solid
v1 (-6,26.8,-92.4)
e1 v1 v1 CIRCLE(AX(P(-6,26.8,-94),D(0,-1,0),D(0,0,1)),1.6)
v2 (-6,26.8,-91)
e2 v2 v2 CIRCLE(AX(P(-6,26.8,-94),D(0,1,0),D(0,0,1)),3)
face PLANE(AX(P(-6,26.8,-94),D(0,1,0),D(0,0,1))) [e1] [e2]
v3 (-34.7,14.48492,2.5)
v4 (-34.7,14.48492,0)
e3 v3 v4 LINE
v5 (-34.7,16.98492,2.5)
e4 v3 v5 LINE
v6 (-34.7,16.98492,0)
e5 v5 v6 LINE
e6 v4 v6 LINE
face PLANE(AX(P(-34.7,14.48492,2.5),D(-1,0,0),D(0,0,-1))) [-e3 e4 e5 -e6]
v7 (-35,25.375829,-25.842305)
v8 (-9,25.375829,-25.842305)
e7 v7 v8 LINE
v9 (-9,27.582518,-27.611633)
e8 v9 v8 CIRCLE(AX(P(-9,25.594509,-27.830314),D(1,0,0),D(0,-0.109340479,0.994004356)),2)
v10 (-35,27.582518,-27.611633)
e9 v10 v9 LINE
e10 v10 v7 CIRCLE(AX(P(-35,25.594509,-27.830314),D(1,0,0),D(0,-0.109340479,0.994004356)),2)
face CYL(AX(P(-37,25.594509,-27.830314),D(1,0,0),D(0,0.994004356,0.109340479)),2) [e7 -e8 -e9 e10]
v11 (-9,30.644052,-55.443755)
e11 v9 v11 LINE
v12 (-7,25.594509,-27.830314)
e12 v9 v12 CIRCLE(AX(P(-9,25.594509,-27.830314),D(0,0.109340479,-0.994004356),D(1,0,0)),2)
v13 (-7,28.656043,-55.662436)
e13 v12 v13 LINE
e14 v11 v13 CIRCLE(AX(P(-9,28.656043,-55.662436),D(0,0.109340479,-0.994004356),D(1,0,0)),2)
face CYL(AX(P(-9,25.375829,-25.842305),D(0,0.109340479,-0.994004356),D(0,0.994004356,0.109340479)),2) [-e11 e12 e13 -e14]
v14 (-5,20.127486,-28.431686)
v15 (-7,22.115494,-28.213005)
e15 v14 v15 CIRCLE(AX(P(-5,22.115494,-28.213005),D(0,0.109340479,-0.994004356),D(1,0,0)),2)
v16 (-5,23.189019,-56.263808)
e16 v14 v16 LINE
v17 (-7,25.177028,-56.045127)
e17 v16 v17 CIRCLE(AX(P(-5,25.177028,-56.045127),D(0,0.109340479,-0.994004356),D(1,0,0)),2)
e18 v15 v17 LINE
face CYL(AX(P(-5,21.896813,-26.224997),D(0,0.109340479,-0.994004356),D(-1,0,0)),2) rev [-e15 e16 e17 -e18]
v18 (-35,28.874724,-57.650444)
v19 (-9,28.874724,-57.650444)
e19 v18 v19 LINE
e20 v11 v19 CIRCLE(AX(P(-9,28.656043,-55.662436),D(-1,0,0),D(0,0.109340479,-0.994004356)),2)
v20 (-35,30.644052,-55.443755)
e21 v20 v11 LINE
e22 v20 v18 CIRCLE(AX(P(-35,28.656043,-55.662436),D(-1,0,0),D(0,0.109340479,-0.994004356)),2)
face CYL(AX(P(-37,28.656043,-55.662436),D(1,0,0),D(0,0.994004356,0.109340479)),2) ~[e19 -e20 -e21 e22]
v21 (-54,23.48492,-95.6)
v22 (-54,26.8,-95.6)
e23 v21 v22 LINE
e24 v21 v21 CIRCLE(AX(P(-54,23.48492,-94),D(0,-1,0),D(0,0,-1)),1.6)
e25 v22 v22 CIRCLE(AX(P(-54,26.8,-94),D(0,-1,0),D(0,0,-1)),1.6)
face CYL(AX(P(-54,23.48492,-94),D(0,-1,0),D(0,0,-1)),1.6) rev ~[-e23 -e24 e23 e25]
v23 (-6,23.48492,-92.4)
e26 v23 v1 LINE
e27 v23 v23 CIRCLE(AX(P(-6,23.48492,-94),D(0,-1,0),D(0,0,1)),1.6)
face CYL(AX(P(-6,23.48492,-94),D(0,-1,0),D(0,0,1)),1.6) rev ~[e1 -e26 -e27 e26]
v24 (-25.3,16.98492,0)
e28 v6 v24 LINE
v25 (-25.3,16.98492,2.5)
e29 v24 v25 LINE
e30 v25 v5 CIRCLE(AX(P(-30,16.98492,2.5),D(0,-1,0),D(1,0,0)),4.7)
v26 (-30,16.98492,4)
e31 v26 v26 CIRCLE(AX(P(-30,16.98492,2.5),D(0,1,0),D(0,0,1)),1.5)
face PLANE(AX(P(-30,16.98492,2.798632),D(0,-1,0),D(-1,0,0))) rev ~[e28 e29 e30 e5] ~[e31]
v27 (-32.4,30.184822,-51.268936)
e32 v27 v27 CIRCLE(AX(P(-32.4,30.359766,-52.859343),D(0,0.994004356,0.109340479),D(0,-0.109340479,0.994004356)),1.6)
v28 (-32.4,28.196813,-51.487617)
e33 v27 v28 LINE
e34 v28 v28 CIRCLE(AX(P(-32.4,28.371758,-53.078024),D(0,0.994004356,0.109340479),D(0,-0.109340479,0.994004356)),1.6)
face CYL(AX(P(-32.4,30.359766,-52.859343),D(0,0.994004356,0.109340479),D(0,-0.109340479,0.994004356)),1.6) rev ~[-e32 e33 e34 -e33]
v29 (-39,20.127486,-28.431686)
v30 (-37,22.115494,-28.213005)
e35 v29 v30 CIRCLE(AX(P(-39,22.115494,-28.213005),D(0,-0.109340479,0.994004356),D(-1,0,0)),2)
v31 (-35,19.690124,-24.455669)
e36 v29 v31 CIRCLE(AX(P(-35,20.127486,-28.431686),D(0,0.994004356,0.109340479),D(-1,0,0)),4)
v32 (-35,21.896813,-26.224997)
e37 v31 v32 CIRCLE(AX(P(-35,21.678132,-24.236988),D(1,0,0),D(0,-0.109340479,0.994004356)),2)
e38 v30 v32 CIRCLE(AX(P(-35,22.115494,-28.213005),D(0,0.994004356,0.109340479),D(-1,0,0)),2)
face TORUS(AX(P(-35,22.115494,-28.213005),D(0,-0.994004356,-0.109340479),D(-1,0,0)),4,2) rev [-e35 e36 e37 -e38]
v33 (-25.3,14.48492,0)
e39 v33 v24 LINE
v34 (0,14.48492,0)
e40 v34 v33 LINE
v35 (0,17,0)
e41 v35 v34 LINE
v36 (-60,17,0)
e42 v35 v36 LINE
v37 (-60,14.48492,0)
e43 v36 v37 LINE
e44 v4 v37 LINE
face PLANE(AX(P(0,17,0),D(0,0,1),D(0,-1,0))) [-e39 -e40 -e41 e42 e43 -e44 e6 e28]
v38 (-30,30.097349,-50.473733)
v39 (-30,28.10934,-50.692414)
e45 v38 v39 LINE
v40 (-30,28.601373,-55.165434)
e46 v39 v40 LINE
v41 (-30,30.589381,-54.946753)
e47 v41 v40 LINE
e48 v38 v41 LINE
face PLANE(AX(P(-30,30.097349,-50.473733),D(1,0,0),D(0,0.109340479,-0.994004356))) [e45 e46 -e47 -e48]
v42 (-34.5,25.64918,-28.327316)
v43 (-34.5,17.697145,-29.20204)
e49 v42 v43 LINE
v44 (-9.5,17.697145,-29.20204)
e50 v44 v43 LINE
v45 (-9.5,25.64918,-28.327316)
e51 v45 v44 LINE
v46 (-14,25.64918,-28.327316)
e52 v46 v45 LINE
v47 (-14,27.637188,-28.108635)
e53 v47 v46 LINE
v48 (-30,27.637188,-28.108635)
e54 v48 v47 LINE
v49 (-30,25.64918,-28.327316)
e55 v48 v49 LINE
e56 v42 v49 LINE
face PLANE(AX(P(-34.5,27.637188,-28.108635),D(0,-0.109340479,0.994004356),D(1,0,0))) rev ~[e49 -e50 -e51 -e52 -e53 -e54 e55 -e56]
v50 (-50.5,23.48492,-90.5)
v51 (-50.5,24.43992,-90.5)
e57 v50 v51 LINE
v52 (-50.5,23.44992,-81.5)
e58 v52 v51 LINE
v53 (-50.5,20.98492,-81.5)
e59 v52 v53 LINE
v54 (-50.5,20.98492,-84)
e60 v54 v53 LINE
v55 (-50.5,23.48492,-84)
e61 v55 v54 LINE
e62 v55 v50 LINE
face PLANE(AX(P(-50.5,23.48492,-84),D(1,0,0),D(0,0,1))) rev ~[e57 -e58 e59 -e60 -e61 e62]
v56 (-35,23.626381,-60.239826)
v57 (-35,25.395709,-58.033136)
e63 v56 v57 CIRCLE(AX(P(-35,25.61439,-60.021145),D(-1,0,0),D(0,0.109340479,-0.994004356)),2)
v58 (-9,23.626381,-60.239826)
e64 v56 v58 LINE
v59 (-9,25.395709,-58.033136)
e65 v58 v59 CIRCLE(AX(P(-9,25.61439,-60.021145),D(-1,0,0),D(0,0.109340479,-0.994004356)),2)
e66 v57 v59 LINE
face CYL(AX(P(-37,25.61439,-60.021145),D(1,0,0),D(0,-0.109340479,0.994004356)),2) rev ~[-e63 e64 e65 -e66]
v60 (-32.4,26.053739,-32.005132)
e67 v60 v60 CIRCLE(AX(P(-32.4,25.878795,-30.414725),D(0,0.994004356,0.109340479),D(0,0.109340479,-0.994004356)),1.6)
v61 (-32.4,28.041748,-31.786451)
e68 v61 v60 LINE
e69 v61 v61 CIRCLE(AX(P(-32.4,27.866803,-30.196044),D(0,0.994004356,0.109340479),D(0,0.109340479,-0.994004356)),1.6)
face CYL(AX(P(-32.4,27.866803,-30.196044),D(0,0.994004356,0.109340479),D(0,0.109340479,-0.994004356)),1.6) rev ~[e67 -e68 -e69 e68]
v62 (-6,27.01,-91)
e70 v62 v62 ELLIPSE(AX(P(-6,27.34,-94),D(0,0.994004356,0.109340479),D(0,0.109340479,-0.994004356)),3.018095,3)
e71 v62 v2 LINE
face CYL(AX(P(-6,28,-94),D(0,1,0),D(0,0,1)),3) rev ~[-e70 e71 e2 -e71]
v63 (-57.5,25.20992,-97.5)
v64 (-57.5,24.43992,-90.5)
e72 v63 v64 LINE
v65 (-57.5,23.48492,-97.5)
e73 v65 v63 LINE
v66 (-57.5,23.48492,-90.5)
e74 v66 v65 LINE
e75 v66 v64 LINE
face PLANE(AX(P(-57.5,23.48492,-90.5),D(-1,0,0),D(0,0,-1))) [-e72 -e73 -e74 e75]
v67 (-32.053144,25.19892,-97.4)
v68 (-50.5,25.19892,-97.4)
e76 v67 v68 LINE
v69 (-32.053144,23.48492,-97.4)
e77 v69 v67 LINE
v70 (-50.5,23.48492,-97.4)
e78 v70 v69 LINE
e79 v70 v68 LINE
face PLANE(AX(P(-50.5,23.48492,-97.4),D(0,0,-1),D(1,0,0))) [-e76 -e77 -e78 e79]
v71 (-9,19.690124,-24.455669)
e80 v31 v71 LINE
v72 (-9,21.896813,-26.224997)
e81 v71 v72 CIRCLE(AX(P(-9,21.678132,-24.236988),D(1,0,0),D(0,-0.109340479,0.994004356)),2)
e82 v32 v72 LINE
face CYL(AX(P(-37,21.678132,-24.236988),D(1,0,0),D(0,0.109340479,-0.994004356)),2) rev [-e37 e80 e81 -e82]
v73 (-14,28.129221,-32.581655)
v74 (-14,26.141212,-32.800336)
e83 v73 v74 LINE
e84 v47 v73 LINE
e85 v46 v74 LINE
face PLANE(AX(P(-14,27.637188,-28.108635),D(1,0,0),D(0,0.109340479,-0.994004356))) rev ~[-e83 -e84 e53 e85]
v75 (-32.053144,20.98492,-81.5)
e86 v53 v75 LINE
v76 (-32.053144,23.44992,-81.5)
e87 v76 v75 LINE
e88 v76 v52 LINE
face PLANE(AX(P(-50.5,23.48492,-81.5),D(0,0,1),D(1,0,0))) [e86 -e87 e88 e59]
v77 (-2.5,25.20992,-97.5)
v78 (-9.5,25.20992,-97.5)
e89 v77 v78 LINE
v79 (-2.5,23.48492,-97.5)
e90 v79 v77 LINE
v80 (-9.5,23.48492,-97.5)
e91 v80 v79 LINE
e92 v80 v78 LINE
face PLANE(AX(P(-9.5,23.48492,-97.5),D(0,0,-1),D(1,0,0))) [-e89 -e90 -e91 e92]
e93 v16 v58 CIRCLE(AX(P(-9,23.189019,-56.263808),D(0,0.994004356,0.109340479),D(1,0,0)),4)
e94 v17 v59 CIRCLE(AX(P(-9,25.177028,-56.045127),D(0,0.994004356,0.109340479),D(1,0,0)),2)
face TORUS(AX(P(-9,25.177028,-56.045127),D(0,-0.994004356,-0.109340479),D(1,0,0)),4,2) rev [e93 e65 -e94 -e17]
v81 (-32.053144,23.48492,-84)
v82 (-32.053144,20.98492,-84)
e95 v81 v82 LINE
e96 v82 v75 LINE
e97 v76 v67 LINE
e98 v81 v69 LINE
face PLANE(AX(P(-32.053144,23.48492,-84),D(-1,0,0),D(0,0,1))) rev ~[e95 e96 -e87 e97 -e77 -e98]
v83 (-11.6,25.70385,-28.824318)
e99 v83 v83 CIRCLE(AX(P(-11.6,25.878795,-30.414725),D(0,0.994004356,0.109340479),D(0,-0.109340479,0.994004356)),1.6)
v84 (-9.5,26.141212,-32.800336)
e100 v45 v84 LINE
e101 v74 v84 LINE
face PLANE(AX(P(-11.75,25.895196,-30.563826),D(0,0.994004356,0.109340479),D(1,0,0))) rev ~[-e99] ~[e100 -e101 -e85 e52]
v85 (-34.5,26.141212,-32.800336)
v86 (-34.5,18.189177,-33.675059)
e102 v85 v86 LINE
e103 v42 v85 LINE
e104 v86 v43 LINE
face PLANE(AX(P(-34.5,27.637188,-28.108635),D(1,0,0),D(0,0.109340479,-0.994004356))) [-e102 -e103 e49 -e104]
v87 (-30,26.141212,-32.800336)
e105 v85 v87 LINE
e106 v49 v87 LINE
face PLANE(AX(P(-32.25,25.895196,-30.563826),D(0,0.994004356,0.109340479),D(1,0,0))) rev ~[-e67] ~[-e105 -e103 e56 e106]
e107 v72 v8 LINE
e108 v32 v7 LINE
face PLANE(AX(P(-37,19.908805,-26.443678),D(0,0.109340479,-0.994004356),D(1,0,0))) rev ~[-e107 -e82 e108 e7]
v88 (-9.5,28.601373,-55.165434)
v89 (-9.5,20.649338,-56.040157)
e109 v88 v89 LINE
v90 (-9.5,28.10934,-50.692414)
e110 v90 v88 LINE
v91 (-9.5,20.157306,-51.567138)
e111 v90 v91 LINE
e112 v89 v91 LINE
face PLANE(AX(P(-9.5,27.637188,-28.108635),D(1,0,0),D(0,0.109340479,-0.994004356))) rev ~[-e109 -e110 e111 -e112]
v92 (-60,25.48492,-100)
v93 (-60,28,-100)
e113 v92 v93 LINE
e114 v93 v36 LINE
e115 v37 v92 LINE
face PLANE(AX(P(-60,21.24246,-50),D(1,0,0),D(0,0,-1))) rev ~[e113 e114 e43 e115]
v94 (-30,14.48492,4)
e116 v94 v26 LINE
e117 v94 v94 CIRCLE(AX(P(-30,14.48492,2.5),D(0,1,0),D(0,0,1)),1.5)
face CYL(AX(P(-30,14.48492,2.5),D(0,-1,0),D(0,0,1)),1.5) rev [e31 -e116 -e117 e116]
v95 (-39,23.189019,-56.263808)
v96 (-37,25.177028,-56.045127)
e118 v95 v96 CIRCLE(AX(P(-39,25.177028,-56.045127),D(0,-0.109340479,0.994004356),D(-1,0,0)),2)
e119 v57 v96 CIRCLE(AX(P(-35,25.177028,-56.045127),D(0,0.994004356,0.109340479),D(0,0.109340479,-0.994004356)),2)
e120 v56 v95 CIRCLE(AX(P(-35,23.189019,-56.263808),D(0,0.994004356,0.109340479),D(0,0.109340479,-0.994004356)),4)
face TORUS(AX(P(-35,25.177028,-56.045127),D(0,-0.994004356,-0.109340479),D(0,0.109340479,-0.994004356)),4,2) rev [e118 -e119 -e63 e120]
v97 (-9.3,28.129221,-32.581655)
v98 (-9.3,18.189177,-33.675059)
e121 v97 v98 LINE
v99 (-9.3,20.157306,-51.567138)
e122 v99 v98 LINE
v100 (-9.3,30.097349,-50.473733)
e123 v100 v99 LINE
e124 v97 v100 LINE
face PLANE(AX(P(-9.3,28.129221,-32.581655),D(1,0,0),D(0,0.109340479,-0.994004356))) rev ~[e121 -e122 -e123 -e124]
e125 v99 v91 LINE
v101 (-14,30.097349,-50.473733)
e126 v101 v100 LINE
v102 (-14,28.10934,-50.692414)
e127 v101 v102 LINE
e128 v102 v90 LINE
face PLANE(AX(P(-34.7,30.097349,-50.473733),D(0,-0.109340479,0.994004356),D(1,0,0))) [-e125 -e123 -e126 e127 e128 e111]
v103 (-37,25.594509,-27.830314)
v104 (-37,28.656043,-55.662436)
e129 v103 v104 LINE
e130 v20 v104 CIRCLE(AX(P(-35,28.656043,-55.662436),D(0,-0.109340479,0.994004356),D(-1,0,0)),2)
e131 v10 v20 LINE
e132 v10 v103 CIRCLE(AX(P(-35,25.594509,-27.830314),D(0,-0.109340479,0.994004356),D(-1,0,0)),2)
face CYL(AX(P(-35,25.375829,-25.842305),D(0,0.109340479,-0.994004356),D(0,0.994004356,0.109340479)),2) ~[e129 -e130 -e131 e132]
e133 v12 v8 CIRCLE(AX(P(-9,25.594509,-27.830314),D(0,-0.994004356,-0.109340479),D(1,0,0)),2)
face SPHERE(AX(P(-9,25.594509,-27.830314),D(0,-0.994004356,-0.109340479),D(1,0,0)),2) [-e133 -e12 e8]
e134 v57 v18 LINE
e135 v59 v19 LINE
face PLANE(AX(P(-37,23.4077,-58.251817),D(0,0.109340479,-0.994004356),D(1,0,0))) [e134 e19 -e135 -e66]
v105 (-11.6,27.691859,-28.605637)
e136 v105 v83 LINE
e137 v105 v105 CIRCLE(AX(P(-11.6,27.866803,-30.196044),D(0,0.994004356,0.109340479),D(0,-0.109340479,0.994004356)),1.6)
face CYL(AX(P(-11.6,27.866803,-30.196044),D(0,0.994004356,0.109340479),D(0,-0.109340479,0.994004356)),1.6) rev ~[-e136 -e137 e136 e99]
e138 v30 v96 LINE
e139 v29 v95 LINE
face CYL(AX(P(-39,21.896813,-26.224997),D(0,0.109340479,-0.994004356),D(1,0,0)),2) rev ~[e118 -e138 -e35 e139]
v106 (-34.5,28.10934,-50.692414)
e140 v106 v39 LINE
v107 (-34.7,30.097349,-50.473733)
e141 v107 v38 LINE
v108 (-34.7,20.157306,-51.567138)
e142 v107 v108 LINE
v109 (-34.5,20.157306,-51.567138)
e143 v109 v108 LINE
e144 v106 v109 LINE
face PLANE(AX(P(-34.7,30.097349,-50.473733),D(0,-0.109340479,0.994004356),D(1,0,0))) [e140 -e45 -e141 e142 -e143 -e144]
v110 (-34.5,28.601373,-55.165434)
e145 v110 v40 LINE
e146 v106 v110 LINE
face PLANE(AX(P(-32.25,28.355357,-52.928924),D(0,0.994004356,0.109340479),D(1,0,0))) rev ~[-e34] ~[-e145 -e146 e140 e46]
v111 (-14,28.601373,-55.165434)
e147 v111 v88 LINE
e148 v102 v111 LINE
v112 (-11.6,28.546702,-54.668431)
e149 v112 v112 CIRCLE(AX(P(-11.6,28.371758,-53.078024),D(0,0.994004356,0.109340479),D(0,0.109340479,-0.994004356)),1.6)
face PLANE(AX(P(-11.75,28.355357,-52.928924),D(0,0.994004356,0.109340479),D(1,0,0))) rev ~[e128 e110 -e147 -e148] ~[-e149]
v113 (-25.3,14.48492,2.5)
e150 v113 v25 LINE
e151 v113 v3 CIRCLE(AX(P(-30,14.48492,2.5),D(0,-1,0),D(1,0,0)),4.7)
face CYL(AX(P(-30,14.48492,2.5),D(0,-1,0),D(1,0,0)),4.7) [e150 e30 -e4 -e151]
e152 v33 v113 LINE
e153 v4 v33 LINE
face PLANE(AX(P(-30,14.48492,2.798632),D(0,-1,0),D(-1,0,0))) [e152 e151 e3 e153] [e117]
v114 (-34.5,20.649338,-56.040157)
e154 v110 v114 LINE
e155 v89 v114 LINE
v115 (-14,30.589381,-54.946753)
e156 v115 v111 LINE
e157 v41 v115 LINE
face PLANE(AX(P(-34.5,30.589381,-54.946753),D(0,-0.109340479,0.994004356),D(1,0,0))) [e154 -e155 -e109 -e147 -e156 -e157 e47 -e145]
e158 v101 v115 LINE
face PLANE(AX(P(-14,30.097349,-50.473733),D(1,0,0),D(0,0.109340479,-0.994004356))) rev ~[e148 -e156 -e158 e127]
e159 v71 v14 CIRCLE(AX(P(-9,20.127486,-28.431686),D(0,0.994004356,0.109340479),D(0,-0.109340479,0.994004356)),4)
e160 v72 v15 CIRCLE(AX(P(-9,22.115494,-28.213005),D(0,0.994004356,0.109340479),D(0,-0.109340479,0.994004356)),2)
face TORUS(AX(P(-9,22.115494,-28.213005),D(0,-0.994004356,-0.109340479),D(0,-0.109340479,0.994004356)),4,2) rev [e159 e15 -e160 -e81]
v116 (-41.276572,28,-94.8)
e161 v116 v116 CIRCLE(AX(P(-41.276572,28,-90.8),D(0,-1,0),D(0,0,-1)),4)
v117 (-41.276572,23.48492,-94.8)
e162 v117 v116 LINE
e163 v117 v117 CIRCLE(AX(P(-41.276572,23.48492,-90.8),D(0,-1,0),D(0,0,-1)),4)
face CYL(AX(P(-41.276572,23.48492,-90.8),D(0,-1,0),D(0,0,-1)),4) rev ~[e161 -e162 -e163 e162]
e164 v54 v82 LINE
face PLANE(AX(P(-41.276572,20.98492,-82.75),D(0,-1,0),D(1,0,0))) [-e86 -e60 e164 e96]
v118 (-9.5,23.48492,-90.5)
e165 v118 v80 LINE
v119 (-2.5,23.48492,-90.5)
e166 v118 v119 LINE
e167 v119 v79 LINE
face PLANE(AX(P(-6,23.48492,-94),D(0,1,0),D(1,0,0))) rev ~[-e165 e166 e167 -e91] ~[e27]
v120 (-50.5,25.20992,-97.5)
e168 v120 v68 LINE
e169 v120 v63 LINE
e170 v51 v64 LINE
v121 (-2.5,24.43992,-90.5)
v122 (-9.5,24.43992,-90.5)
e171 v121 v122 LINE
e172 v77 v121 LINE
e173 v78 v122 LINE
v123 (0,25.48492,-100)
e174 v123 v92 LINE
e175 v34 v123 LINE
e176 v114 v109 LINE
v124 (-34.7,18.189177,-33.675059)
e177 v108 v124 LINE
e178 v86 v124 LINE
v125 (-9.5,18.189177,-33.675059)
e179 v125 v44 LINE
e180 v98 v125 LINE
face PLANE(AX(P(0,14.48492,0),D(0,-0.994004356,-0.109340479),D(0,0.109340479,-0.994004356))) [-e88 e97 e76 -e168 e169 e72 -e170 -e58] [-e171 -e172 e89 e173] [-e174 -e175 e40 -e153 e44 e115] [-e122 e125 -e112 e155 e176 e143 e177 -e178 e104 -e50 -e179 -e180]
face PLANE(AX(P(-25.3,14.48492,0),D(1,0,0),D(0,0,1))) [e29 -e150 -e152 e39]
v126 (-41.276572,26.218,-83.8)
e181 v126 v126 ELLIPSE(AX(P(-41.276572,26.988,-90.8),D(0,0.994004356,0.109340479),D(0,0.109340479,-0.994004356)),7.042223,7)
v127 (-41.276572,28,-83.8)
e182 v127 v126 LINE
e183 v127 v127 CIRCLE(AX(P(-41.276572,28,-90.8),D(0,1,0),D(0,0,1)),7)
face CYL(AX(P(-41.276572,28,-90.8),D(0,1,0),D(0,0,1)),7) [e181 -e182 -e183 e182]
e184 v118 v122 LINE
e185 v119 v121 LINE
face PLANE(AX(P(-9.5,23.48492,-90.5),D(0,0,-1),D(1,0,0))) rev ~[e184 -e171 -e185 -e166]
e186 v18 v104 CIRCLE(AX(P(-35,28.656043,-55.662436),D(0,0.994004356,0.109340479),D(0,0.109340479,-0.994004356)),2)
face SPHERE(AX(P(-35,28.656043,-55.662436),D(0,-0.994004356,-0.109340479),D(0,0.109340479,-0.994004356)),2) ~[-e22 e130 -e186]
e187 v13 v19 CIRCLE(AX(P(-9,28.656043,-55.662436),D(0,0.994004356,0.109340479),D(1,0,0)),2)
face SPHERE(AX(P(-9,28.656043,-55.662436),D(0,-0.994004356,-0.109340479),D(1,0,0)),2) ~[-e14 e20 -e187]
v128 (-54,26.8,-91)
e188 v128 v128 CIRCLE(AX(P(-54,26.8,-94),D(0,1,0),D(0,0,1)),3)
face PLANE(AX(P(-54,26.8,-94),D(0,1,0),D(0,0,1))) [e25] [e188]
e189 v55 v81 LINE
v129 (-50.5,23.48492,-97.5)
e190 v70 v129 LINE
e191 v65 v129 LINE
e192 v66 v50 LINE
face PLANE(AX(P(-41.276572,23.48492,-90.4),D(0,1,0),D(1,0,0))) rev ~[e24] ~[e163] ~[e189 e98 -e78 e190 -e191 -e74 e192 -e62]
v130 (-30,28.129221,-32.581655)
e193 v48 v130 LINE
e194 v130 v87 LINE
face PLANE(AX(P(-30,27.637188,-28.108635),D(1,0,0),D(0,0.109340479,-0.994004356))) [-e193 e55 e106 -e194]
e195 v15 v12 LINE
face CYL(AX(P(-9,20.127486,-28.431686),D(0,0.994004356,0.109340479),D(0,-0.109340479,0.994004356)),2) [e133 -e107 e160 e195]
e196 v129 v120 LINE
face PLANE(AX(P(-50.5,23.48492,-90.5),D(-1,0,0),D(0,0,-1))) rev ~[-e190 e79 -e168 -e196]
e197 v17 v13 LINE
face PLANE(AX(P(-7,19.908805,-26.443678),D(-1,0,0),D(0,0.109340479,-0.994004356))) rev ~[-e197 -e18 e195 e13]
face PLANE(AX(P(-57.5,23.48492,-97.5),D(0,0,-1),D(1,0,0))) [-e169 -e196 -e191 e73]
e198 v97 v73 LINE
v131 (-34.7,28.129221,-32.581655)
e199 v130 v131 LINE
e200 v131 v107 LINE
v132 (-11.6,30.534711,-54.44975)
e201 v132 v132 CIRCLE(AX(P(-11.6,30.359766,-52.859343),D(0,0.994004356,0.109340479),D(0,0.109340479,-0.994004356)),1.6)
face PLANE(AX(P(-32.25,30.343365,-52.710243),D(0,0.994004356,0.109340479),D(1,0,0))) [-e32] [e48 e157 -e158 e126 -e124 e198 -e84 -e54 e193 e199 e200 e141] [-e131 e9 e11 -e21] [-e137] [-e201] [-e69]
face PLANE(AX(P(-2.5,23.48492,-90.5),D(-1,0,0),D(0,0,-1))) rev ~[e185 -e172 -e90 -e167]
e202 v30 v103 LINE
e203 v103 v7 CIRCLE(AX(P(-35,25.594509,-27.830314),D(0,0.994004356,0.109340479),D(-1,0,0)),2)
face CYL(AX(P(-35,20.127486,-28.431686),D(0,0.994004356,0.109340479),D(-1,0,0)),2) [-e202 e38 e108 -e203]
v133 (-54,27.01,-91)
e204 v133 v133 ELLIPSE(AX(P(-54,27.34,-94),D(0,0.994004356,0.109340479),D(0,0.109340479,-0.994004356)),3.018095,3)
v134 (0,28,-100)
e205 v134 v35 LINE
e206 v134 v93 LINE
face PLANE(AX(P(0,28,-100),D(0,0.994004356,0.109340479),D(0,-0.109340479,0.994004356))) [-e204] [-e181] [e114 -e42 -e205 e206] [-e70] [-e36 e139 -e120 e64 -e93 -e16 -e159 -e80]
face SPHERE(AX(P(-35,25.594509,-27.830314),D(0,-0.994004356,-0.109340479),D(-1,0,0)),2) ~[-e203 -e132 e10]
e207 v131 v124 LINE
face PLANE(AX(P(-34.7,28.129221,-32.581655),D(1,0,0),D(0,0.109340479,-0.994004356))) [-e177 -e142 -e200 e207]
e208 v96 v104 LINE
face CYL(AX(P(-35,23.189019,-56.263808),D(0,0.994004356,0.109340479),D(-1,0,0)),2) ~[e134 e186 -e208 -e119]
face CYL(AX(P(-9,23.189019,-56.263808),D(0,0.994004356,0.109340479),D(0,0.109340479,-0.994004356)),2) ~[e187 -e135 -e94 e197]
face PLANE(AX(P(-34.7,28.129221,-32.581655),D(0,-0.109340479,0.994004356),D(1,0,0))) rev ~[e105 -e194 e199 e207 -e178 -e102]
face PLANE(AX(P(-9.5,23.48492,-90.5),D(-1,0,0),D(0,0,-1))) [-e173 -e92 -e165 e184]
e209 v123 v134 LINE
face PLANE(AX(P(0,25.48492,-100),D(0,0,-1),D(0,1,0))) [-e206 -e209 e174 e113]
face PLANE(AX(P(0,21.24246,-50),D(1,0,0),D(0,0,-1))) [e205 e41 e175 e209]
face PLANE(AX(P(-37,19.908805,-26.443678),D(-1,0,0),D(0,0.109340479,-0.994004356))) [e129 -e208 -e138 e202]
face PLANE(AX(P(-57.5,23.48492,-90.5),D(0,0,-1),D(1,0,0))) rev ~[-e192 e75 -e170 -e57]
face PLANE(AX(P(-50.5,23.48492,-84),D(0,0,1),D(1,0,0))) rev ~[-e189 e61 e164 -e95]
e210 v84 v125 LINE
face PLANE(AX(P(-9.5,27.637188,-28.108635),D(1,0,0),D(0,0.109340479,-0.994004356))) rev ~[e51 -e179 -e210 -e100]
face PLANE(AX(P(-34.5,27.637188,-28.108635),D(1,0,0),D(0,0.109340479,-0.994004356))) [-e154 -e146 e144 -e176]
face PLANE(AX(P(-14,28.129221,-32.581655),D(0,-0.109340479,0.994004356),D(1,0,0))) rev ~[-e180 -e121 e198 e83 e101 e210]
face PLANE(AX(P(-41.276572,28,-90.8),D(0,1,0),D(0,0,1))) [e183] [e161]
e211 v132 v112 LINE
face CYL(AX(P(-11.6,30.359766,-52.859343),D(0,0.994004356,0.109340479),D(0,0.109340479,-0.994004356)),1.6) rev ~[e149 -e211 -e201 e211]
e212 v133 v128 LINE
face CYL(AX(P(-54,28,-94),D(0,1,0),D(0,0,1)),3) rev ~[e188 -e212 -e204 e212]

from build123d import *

# Parameters (mm, degrees)
EXTRUDE_1_DEPTH             = 60
EXTRUDE_2_REACH             = 118.966
SKETCH_3_W                  = 7
SKETCH_3_H                  = 7
SKETCH_4_R                  = 1.6
CUT_EXTRUDE_1_DEPTH         = 117.965806969
SKETCH_5_R                  = 3
CUT_EXTRUDE_2_DEPTH         = 1.2
EXTRUDE_3_REACH             = 118.966
SKETCH_6_W                  = 18.446856435
SKETCH_6_H                  = 14
SKETCH_7_W                  = 18.446856435
SKETCH_7_H                  = 2.5
EXTRUDE_4_DEPTH             = 2.5
EXTRUDE_4_DIRECTION_2_REACH = 118.966
SKETCH_8_R                  = 4
CUT_EXTRUDE_3_DEPTH         = 117.965806969
EXTRUDE_5_REACH             = 119.4
SKETCH_9_R                  = 7
SKETCH_11_R                 = 4
CUT_EXTRUDE_5_DEPTH         = 117.965806969
SKETCH_12_W                 = 30
SKETCH_12_H                 = 32
EXTRUDE_6_DEPTH             = 7.5
SKETCH_13_W                 = 25
SKETCH_13_H                 = 27
CUT_EXTRUDE_6_DEPTH         = 120.314910243
SKETCH_14_W                 = 4.5
SKETCH_14_H                 = 4.5
SKETCH_14_R                 = 1.6
EXTRUDE_7_DEPTH             = 2
FILLET_2_R                  = 2
SKETCH_15_W                 = 25.4
SKETCH_15_H                 = 18
CUT_EXTRUDE_7_DEPTH         = 120.314910243
SKETCH_16_R                 = 1.5
EXTRUDE_8_DEPTH             = 2.5


with BuildPart() as part:
    # 草图2 → 凸台-拉伸1 (new body)
    with BuildSketch(Plane(origin=(0, 0, 0), x_dir=(0, 0, -1), z_dir=(1, 0, 0))):
        Polygon((100, 28), (0, 17), (0, 14.484920478), (100, 25.484920478), align=None)
    extrude(amount=-EXTRUDE_1_DEPTH)

    # 凸台-拉伸2: up to this plane
    extrude_2_end = Plane(origin=(-60, 14.484920478, 0), z_dir=(0, -0.9940043559354329, -0.10934047915289775))
    # 草图3 → 凸台-拉伸2 (add, up to the surface)
    with BuildSketch(Plane(origin=(0, 23.484920478, 0), x_dir=(1, 0, 0), z_dir=(0, 1, 0)), mode=Mode.PRIVATE) as extrude_2_sk1:
        with Locations((-54, 94)):
            Rectangle(SKETCH_3_W, SKETCH_3_H)
    extrude_2_tool1 = split(extrude(extrude_2_sk1.sketch, amount=EXTRUDE_2_REACH, mode=Mode.PRIVATE), bisect_by=extrude_2_end, keep=Keep.BOTH, mode=Mode.PRIVATE)
    add(extrude_2_tool1.solids().sort_by_distance((-54, 23.48492, -94))[0])
    # 草图3 → 凸台-拉伸2 (add, up to the surface)
    with BuildSketch(Plane(origin=(0, 23.484920478, 0), x_dir=(1, 0, 0), z_dir=(0, 1, 0)), mode=Mode.PRIVATE) as extrude_2_sk2:
        with Locations((-6, 94)):
            Rectangle(SKETCH_3_W, SKETCH_3_H)
    extrude_2_tool2 = split(extrude(extrude_2_sk2.sketch, amount=EXTRUDE_2_REACH, mode=Mode.PRIVATE), bisect_by=extrude_2_end, keep=Keep.BOTH, mode=Mode.PRIVATE)
    add(extrude_2_tool2.solids().sort_by_distance((-6, 23.48492, -94))[0])

    # 草图4 → 切除-拉伸1 (cut, through all)
    with BuildSketch(Plane.XZ.offset(-23.484920478)):
        with Locations(Location((-54, -94, 0), (0, 0, 270))):
            Circle(SKETCH_4_R)
        with Locations(Location((-6, -94, 0), (0, 0, 90))):
            Circle(SKETCH_4_R)
    extrude(amount=-CUT_EXTRUDE_1_DEPTH, mode=Mode.SUBTRACT)

    # 草图5 → 切除-拉伸2 (cut)
    with BuildSketch(Plane(origin=(0, 28, 0), x_dir=(1, 0, 0), z_dir=(0, 1, 0))):
        with Locations(Location((-54, 94, 0), (0, 0, 270))):
            Circle(SKETCH_5_R)
        with Locations(Location((-6, 94, 0), (0, 0, 270))):
            Circle(SKETCH_5_R)
    extrude(amount=-CUT_EXTRUDE_2_DEPTH, mode=Mode.SUBTRACT)

    # 凸台-拉伸3: up to this plane
    extrude_3_end = Plane(origin=(-60, 14.484920478, 0), z_dir=(0, -0.9940043559354329, -0.10934047915289775))
    # 草图6 → 凸台-拉伸3 (add, up to the surface)
    with BuildSketch(Plane(origin=(0, 23.484920478, 0), x_dir=(1, 0, 0), z_dir=(0, 1, 0)), mode=Mode.PRIVATE) as extrude_3_sk1:
        with Locations((-41.276571782, 90.4)):
            Rectangle(SKETCH_6_W, SKETCH_6_H)
    extrude_3_tool1 = split(extrude(extrude_3_sk1.sketch, amount=EXTRUDE_3_REACH, mode=Mode.PRIVATE), bisect_by=extrude_3_end, keep=Keep.BOTH, mode=Mode.PRIVATE)
    add(extrude_3_tool1.solids().sort_by_distance((-41.276572, 23.48492, -90.4))[0])

    # 草图7 → 凸台-拉伸4 (add)
    with BuildSketch(Plane.XZ.offset(-23.484920478)):
        with Locations((-41.276571782, -82.75)):
            Rectangle(SKETCH_7_W, SKETCH_7_H)
    extrude(amount=EXTRUDE_4_DEPTH)

    # 草图7 → 凸台-拉伸4 direction 2 (add, up to next)
    with BuildSketch(Plane.XZ.offset(-23.484920478), mode=Mode.PRIVATE) as extrude_4_direction_2_sk1:
        with Locations((-41.276571782, -82.75)):
            Rectangle(SKETCH_7_W, SKETCH_7_H)
    extrude_4_direction_2_tool1 = extrude(extrude_4_direction_2_sk1.sketch, amount=-EXTRUDE_4_DIRECTION_2_REACH, mode=Mode.PRIVATE) - part.part
    add(extrude_4_direction_2_tool1.solids().sort_by_distance((-41.276572, 23.48492, -82.75))[0])

    # 草图8 → 切除-拉伸3 (cut, through all)
    with BuildSketch(Plane.XZ.offset(-23.484920478)):
        with Locations(Location((-41.276571782, -90.8, 0), (0, 0, 270))):
            Circle(SKETCH_8_R)
    extrude(amount=-CUT_EXTRUDE_3_DEPTH, mode=Mode.SUBTRACT)

    # 凸台-拉伸5: up to this plane
    extrude_5_end = Plane(origin=(-60, 28, -100), z_dir=(0, 0.9940043559354329, 0.10934047915289762))
    # 草图9 → 凸台-拉伸5 (add, up to the surface)
    with BuildSketch(Plane(origin=(0, 28, 0), x_dir=(1, 0, 0), z_dir=(0, 1, 0)), mode=Mode.PRIVATE) as extrude_5_sk1:
        with Locations(Location((-41.276571782, 90.8, 0), (0, 0, 270))):
            Circle(SKETCH_9_R)
    extrude_5_tool1 = split(extrude(extrude_5_sk1.sketch, amount=-EXTRUDE_5_REACH, mode=Mode.PRIVATE), bisect_by=extrude_5_end, keep=Keep.BOTH, mode=Mode.PRIVATE)
    add(extrude_5_tool1.solids().sort_by_distance((-41.276572, 28, -90.8))[0])

    # 草图11 → 切除-拉伸5 (cut, through all)
    with BuildSketch(Plane.XZ.offset(-23.484920478)):
        with Locations(Location((-41.276571782, -90.8, 0), (0, 0, 270))):
            Circle(SKETCH_11_R)
    extrude(amount=-CUT_EXTRUDE_5_DEPTH, mode=Mode.SUBTRACT)

    # 草图12 → 凸台-拉伸6 (add)
    with BuildSketch(Plane(origin=(0, 16.796759214, 1.847643513), x_dir=(1, 0, 0), z_dir=(0, 0.994004355935433, 0.10934047915289764))):
        with Locations((-22, 44.46196901)):
            Rectangle(SKETCH_12_W, SKETCH_12_H)
    extrude(amount=EXTRUDE_6_DEPTH)

    # 草图13 → 切除-拉伸6 (cut, through all)
    with BuildSketch(Plane(origin=(0, 24.251791883, 2.667697107), x_dir=(1, 0, 0), z_dir=(0, 0.994004355935433, 0.10934047915289753))):
        with Locations((-22, 44.46196901)):
            Rectangle(SKETCH_13_W, SKETCH_13_H)
    extrude(amount=-CUT_EXTRUDE_6_DEPTH, mode=Mode.SUBTRACT)

    # 草图14 → 凸台-拉伸7 (add)
    # profile 1 of 4: a face of its own
    with BuildSketch(Plane(origin=(0, 24.251791883, 2.667697107), x_dir=(1, 0, 0), z_dir=(0, 0.994004355935433, 0.10934047915289753))):
        with Locations((-32.25, 55.71196901)):
            Rectangle(SKETCH_14_W, SKETCH_14_H)
        with Locations(Location((-32.4, 55.86196901, 0), (0, 0, 270))):
            Circle(SKETCH_14_R, mode=Mode.SUBTRACT)
    # profile 2 of 4: a face of its own
    with BuildSketch(Plane(origin=(0, 24.251791883, 2.667697107), x_dir=(1, 0, 0), z_dir=(0, 0.994004355935433, 0.10934047915289753))):
        with Locations((-32.25, 33.21196901)):
            Rectangle(SKETCH_14_W, SKETCH_14_H)
        with Locations(Location((-32.4, 33.06196901, 0), (0, 0, 90))):
            Circle(SKETCH_14_R, mode=Mode.SUBTRACT)
    # profile 3 of 4: a face of its own
    with BuildSketch(Plane(origin=(0, 24.251791883, 2.667697107), x_dir=(1, 0, 0), z_dir=(0, 0.994004355935433, 0.10934047915289753))):
        with Locations((-11.75, 33.21196901)):
            Rectangle(SKETCH_14_W, SKETCH_14_H)
        with Locations(Location((-11.6, 33.06196901, 0), (0, 0, 270))):
            Circle(SKETCH_14_R, mode=Mode.SUBTRACT)
    # profile 4 of 4: a face of its own
    with BuildSketch(Plane(origin=(0, 24.251791883, 2.667697107), x_dir=(1, 0, 0), z_dir=(0, 0.994004355935433, 0.10934047915289753))):
        with Locations((-11.75, 55.71196901)):
            Rectangle(SKETCH_14_W, SKETCH_14_H)
        with Locations(Location((-11.6, 55.86196901, 0), (0, 0, 90))):
            Circle(SKETCH_14_R, mode=Mode.SUBTRACT)
    extrude(amount=-EXTRUDE_7_DEPTH)

    # 圆角2
    fillet_2_edges = [part.edges().sort_by_distance(p)[0] for p in [
        (-7, 21.658252209, -42.347747356),
        (-7, 23.636320877, -26.033650864),
        (-22, 23.407699876, -58.251817051),
        (-7, 27.13521621, -57.841790254),
        (-37, 21.658252209, -42.347747356),
        (-37, 27.13521621, -57.841790254),
        (-22, 19.908804543, -26.443677661),
        (-37, 23.636320877, -26.033650864),
        (-7, 29.113284879, -41.527693762),
        (-22, 30.862732545, -57.431763457),
        (-37, 29.113284879, -41.527693762),
        (-22, 27.363837212, -25.623624067),
    ]]
    fillet(fillet_2_edges, radius=FILLET_2_R)

    # 草图15 → 切除-拉伸7 (cut, through all)
    with BuildSketch(Plane(origin=(0, 24.251791883, 2.667697107), x_dir=(1, 0, 0), z_dir=(0, 0.994004355935433, 0.10934047915289753))):
        with Locations((-22, 44.46196901)):
            Rectangle(SKETCH_15_W, SKETCH_15_H)
    extrude(amount=-CUT_EXTRUDE_7_DEPTH, mode=Mode.SUBTRACT)

    # 草图16 → 凸台-拉伸8 (add)
    with BuildSketch(Plane(origin=(0, 14.484920478, 0), x_dir=(1, 0, 0), z_dir=(0, 1, 0))):
        with BuildLine():
            Line((-34.7, -2.5), (-34.7, 0))
            Line((-34.7, 0), (-25.3, 0))
            Line((-25.3, 0), (-25.3, -2.5))
            ThreePointArc((-25.3, -2.5), (-30, -7.2), (-34.7, -2.5))
        make_face()
        with Locations(Location((-30, -2.5, 0), (0, 0, 270))):
            Circle(SKETCH_16_R, mode=Mode.SUBTRACT)
    extrude(amount=EXTRUDE_8_DEPTH)


solid = part.part
